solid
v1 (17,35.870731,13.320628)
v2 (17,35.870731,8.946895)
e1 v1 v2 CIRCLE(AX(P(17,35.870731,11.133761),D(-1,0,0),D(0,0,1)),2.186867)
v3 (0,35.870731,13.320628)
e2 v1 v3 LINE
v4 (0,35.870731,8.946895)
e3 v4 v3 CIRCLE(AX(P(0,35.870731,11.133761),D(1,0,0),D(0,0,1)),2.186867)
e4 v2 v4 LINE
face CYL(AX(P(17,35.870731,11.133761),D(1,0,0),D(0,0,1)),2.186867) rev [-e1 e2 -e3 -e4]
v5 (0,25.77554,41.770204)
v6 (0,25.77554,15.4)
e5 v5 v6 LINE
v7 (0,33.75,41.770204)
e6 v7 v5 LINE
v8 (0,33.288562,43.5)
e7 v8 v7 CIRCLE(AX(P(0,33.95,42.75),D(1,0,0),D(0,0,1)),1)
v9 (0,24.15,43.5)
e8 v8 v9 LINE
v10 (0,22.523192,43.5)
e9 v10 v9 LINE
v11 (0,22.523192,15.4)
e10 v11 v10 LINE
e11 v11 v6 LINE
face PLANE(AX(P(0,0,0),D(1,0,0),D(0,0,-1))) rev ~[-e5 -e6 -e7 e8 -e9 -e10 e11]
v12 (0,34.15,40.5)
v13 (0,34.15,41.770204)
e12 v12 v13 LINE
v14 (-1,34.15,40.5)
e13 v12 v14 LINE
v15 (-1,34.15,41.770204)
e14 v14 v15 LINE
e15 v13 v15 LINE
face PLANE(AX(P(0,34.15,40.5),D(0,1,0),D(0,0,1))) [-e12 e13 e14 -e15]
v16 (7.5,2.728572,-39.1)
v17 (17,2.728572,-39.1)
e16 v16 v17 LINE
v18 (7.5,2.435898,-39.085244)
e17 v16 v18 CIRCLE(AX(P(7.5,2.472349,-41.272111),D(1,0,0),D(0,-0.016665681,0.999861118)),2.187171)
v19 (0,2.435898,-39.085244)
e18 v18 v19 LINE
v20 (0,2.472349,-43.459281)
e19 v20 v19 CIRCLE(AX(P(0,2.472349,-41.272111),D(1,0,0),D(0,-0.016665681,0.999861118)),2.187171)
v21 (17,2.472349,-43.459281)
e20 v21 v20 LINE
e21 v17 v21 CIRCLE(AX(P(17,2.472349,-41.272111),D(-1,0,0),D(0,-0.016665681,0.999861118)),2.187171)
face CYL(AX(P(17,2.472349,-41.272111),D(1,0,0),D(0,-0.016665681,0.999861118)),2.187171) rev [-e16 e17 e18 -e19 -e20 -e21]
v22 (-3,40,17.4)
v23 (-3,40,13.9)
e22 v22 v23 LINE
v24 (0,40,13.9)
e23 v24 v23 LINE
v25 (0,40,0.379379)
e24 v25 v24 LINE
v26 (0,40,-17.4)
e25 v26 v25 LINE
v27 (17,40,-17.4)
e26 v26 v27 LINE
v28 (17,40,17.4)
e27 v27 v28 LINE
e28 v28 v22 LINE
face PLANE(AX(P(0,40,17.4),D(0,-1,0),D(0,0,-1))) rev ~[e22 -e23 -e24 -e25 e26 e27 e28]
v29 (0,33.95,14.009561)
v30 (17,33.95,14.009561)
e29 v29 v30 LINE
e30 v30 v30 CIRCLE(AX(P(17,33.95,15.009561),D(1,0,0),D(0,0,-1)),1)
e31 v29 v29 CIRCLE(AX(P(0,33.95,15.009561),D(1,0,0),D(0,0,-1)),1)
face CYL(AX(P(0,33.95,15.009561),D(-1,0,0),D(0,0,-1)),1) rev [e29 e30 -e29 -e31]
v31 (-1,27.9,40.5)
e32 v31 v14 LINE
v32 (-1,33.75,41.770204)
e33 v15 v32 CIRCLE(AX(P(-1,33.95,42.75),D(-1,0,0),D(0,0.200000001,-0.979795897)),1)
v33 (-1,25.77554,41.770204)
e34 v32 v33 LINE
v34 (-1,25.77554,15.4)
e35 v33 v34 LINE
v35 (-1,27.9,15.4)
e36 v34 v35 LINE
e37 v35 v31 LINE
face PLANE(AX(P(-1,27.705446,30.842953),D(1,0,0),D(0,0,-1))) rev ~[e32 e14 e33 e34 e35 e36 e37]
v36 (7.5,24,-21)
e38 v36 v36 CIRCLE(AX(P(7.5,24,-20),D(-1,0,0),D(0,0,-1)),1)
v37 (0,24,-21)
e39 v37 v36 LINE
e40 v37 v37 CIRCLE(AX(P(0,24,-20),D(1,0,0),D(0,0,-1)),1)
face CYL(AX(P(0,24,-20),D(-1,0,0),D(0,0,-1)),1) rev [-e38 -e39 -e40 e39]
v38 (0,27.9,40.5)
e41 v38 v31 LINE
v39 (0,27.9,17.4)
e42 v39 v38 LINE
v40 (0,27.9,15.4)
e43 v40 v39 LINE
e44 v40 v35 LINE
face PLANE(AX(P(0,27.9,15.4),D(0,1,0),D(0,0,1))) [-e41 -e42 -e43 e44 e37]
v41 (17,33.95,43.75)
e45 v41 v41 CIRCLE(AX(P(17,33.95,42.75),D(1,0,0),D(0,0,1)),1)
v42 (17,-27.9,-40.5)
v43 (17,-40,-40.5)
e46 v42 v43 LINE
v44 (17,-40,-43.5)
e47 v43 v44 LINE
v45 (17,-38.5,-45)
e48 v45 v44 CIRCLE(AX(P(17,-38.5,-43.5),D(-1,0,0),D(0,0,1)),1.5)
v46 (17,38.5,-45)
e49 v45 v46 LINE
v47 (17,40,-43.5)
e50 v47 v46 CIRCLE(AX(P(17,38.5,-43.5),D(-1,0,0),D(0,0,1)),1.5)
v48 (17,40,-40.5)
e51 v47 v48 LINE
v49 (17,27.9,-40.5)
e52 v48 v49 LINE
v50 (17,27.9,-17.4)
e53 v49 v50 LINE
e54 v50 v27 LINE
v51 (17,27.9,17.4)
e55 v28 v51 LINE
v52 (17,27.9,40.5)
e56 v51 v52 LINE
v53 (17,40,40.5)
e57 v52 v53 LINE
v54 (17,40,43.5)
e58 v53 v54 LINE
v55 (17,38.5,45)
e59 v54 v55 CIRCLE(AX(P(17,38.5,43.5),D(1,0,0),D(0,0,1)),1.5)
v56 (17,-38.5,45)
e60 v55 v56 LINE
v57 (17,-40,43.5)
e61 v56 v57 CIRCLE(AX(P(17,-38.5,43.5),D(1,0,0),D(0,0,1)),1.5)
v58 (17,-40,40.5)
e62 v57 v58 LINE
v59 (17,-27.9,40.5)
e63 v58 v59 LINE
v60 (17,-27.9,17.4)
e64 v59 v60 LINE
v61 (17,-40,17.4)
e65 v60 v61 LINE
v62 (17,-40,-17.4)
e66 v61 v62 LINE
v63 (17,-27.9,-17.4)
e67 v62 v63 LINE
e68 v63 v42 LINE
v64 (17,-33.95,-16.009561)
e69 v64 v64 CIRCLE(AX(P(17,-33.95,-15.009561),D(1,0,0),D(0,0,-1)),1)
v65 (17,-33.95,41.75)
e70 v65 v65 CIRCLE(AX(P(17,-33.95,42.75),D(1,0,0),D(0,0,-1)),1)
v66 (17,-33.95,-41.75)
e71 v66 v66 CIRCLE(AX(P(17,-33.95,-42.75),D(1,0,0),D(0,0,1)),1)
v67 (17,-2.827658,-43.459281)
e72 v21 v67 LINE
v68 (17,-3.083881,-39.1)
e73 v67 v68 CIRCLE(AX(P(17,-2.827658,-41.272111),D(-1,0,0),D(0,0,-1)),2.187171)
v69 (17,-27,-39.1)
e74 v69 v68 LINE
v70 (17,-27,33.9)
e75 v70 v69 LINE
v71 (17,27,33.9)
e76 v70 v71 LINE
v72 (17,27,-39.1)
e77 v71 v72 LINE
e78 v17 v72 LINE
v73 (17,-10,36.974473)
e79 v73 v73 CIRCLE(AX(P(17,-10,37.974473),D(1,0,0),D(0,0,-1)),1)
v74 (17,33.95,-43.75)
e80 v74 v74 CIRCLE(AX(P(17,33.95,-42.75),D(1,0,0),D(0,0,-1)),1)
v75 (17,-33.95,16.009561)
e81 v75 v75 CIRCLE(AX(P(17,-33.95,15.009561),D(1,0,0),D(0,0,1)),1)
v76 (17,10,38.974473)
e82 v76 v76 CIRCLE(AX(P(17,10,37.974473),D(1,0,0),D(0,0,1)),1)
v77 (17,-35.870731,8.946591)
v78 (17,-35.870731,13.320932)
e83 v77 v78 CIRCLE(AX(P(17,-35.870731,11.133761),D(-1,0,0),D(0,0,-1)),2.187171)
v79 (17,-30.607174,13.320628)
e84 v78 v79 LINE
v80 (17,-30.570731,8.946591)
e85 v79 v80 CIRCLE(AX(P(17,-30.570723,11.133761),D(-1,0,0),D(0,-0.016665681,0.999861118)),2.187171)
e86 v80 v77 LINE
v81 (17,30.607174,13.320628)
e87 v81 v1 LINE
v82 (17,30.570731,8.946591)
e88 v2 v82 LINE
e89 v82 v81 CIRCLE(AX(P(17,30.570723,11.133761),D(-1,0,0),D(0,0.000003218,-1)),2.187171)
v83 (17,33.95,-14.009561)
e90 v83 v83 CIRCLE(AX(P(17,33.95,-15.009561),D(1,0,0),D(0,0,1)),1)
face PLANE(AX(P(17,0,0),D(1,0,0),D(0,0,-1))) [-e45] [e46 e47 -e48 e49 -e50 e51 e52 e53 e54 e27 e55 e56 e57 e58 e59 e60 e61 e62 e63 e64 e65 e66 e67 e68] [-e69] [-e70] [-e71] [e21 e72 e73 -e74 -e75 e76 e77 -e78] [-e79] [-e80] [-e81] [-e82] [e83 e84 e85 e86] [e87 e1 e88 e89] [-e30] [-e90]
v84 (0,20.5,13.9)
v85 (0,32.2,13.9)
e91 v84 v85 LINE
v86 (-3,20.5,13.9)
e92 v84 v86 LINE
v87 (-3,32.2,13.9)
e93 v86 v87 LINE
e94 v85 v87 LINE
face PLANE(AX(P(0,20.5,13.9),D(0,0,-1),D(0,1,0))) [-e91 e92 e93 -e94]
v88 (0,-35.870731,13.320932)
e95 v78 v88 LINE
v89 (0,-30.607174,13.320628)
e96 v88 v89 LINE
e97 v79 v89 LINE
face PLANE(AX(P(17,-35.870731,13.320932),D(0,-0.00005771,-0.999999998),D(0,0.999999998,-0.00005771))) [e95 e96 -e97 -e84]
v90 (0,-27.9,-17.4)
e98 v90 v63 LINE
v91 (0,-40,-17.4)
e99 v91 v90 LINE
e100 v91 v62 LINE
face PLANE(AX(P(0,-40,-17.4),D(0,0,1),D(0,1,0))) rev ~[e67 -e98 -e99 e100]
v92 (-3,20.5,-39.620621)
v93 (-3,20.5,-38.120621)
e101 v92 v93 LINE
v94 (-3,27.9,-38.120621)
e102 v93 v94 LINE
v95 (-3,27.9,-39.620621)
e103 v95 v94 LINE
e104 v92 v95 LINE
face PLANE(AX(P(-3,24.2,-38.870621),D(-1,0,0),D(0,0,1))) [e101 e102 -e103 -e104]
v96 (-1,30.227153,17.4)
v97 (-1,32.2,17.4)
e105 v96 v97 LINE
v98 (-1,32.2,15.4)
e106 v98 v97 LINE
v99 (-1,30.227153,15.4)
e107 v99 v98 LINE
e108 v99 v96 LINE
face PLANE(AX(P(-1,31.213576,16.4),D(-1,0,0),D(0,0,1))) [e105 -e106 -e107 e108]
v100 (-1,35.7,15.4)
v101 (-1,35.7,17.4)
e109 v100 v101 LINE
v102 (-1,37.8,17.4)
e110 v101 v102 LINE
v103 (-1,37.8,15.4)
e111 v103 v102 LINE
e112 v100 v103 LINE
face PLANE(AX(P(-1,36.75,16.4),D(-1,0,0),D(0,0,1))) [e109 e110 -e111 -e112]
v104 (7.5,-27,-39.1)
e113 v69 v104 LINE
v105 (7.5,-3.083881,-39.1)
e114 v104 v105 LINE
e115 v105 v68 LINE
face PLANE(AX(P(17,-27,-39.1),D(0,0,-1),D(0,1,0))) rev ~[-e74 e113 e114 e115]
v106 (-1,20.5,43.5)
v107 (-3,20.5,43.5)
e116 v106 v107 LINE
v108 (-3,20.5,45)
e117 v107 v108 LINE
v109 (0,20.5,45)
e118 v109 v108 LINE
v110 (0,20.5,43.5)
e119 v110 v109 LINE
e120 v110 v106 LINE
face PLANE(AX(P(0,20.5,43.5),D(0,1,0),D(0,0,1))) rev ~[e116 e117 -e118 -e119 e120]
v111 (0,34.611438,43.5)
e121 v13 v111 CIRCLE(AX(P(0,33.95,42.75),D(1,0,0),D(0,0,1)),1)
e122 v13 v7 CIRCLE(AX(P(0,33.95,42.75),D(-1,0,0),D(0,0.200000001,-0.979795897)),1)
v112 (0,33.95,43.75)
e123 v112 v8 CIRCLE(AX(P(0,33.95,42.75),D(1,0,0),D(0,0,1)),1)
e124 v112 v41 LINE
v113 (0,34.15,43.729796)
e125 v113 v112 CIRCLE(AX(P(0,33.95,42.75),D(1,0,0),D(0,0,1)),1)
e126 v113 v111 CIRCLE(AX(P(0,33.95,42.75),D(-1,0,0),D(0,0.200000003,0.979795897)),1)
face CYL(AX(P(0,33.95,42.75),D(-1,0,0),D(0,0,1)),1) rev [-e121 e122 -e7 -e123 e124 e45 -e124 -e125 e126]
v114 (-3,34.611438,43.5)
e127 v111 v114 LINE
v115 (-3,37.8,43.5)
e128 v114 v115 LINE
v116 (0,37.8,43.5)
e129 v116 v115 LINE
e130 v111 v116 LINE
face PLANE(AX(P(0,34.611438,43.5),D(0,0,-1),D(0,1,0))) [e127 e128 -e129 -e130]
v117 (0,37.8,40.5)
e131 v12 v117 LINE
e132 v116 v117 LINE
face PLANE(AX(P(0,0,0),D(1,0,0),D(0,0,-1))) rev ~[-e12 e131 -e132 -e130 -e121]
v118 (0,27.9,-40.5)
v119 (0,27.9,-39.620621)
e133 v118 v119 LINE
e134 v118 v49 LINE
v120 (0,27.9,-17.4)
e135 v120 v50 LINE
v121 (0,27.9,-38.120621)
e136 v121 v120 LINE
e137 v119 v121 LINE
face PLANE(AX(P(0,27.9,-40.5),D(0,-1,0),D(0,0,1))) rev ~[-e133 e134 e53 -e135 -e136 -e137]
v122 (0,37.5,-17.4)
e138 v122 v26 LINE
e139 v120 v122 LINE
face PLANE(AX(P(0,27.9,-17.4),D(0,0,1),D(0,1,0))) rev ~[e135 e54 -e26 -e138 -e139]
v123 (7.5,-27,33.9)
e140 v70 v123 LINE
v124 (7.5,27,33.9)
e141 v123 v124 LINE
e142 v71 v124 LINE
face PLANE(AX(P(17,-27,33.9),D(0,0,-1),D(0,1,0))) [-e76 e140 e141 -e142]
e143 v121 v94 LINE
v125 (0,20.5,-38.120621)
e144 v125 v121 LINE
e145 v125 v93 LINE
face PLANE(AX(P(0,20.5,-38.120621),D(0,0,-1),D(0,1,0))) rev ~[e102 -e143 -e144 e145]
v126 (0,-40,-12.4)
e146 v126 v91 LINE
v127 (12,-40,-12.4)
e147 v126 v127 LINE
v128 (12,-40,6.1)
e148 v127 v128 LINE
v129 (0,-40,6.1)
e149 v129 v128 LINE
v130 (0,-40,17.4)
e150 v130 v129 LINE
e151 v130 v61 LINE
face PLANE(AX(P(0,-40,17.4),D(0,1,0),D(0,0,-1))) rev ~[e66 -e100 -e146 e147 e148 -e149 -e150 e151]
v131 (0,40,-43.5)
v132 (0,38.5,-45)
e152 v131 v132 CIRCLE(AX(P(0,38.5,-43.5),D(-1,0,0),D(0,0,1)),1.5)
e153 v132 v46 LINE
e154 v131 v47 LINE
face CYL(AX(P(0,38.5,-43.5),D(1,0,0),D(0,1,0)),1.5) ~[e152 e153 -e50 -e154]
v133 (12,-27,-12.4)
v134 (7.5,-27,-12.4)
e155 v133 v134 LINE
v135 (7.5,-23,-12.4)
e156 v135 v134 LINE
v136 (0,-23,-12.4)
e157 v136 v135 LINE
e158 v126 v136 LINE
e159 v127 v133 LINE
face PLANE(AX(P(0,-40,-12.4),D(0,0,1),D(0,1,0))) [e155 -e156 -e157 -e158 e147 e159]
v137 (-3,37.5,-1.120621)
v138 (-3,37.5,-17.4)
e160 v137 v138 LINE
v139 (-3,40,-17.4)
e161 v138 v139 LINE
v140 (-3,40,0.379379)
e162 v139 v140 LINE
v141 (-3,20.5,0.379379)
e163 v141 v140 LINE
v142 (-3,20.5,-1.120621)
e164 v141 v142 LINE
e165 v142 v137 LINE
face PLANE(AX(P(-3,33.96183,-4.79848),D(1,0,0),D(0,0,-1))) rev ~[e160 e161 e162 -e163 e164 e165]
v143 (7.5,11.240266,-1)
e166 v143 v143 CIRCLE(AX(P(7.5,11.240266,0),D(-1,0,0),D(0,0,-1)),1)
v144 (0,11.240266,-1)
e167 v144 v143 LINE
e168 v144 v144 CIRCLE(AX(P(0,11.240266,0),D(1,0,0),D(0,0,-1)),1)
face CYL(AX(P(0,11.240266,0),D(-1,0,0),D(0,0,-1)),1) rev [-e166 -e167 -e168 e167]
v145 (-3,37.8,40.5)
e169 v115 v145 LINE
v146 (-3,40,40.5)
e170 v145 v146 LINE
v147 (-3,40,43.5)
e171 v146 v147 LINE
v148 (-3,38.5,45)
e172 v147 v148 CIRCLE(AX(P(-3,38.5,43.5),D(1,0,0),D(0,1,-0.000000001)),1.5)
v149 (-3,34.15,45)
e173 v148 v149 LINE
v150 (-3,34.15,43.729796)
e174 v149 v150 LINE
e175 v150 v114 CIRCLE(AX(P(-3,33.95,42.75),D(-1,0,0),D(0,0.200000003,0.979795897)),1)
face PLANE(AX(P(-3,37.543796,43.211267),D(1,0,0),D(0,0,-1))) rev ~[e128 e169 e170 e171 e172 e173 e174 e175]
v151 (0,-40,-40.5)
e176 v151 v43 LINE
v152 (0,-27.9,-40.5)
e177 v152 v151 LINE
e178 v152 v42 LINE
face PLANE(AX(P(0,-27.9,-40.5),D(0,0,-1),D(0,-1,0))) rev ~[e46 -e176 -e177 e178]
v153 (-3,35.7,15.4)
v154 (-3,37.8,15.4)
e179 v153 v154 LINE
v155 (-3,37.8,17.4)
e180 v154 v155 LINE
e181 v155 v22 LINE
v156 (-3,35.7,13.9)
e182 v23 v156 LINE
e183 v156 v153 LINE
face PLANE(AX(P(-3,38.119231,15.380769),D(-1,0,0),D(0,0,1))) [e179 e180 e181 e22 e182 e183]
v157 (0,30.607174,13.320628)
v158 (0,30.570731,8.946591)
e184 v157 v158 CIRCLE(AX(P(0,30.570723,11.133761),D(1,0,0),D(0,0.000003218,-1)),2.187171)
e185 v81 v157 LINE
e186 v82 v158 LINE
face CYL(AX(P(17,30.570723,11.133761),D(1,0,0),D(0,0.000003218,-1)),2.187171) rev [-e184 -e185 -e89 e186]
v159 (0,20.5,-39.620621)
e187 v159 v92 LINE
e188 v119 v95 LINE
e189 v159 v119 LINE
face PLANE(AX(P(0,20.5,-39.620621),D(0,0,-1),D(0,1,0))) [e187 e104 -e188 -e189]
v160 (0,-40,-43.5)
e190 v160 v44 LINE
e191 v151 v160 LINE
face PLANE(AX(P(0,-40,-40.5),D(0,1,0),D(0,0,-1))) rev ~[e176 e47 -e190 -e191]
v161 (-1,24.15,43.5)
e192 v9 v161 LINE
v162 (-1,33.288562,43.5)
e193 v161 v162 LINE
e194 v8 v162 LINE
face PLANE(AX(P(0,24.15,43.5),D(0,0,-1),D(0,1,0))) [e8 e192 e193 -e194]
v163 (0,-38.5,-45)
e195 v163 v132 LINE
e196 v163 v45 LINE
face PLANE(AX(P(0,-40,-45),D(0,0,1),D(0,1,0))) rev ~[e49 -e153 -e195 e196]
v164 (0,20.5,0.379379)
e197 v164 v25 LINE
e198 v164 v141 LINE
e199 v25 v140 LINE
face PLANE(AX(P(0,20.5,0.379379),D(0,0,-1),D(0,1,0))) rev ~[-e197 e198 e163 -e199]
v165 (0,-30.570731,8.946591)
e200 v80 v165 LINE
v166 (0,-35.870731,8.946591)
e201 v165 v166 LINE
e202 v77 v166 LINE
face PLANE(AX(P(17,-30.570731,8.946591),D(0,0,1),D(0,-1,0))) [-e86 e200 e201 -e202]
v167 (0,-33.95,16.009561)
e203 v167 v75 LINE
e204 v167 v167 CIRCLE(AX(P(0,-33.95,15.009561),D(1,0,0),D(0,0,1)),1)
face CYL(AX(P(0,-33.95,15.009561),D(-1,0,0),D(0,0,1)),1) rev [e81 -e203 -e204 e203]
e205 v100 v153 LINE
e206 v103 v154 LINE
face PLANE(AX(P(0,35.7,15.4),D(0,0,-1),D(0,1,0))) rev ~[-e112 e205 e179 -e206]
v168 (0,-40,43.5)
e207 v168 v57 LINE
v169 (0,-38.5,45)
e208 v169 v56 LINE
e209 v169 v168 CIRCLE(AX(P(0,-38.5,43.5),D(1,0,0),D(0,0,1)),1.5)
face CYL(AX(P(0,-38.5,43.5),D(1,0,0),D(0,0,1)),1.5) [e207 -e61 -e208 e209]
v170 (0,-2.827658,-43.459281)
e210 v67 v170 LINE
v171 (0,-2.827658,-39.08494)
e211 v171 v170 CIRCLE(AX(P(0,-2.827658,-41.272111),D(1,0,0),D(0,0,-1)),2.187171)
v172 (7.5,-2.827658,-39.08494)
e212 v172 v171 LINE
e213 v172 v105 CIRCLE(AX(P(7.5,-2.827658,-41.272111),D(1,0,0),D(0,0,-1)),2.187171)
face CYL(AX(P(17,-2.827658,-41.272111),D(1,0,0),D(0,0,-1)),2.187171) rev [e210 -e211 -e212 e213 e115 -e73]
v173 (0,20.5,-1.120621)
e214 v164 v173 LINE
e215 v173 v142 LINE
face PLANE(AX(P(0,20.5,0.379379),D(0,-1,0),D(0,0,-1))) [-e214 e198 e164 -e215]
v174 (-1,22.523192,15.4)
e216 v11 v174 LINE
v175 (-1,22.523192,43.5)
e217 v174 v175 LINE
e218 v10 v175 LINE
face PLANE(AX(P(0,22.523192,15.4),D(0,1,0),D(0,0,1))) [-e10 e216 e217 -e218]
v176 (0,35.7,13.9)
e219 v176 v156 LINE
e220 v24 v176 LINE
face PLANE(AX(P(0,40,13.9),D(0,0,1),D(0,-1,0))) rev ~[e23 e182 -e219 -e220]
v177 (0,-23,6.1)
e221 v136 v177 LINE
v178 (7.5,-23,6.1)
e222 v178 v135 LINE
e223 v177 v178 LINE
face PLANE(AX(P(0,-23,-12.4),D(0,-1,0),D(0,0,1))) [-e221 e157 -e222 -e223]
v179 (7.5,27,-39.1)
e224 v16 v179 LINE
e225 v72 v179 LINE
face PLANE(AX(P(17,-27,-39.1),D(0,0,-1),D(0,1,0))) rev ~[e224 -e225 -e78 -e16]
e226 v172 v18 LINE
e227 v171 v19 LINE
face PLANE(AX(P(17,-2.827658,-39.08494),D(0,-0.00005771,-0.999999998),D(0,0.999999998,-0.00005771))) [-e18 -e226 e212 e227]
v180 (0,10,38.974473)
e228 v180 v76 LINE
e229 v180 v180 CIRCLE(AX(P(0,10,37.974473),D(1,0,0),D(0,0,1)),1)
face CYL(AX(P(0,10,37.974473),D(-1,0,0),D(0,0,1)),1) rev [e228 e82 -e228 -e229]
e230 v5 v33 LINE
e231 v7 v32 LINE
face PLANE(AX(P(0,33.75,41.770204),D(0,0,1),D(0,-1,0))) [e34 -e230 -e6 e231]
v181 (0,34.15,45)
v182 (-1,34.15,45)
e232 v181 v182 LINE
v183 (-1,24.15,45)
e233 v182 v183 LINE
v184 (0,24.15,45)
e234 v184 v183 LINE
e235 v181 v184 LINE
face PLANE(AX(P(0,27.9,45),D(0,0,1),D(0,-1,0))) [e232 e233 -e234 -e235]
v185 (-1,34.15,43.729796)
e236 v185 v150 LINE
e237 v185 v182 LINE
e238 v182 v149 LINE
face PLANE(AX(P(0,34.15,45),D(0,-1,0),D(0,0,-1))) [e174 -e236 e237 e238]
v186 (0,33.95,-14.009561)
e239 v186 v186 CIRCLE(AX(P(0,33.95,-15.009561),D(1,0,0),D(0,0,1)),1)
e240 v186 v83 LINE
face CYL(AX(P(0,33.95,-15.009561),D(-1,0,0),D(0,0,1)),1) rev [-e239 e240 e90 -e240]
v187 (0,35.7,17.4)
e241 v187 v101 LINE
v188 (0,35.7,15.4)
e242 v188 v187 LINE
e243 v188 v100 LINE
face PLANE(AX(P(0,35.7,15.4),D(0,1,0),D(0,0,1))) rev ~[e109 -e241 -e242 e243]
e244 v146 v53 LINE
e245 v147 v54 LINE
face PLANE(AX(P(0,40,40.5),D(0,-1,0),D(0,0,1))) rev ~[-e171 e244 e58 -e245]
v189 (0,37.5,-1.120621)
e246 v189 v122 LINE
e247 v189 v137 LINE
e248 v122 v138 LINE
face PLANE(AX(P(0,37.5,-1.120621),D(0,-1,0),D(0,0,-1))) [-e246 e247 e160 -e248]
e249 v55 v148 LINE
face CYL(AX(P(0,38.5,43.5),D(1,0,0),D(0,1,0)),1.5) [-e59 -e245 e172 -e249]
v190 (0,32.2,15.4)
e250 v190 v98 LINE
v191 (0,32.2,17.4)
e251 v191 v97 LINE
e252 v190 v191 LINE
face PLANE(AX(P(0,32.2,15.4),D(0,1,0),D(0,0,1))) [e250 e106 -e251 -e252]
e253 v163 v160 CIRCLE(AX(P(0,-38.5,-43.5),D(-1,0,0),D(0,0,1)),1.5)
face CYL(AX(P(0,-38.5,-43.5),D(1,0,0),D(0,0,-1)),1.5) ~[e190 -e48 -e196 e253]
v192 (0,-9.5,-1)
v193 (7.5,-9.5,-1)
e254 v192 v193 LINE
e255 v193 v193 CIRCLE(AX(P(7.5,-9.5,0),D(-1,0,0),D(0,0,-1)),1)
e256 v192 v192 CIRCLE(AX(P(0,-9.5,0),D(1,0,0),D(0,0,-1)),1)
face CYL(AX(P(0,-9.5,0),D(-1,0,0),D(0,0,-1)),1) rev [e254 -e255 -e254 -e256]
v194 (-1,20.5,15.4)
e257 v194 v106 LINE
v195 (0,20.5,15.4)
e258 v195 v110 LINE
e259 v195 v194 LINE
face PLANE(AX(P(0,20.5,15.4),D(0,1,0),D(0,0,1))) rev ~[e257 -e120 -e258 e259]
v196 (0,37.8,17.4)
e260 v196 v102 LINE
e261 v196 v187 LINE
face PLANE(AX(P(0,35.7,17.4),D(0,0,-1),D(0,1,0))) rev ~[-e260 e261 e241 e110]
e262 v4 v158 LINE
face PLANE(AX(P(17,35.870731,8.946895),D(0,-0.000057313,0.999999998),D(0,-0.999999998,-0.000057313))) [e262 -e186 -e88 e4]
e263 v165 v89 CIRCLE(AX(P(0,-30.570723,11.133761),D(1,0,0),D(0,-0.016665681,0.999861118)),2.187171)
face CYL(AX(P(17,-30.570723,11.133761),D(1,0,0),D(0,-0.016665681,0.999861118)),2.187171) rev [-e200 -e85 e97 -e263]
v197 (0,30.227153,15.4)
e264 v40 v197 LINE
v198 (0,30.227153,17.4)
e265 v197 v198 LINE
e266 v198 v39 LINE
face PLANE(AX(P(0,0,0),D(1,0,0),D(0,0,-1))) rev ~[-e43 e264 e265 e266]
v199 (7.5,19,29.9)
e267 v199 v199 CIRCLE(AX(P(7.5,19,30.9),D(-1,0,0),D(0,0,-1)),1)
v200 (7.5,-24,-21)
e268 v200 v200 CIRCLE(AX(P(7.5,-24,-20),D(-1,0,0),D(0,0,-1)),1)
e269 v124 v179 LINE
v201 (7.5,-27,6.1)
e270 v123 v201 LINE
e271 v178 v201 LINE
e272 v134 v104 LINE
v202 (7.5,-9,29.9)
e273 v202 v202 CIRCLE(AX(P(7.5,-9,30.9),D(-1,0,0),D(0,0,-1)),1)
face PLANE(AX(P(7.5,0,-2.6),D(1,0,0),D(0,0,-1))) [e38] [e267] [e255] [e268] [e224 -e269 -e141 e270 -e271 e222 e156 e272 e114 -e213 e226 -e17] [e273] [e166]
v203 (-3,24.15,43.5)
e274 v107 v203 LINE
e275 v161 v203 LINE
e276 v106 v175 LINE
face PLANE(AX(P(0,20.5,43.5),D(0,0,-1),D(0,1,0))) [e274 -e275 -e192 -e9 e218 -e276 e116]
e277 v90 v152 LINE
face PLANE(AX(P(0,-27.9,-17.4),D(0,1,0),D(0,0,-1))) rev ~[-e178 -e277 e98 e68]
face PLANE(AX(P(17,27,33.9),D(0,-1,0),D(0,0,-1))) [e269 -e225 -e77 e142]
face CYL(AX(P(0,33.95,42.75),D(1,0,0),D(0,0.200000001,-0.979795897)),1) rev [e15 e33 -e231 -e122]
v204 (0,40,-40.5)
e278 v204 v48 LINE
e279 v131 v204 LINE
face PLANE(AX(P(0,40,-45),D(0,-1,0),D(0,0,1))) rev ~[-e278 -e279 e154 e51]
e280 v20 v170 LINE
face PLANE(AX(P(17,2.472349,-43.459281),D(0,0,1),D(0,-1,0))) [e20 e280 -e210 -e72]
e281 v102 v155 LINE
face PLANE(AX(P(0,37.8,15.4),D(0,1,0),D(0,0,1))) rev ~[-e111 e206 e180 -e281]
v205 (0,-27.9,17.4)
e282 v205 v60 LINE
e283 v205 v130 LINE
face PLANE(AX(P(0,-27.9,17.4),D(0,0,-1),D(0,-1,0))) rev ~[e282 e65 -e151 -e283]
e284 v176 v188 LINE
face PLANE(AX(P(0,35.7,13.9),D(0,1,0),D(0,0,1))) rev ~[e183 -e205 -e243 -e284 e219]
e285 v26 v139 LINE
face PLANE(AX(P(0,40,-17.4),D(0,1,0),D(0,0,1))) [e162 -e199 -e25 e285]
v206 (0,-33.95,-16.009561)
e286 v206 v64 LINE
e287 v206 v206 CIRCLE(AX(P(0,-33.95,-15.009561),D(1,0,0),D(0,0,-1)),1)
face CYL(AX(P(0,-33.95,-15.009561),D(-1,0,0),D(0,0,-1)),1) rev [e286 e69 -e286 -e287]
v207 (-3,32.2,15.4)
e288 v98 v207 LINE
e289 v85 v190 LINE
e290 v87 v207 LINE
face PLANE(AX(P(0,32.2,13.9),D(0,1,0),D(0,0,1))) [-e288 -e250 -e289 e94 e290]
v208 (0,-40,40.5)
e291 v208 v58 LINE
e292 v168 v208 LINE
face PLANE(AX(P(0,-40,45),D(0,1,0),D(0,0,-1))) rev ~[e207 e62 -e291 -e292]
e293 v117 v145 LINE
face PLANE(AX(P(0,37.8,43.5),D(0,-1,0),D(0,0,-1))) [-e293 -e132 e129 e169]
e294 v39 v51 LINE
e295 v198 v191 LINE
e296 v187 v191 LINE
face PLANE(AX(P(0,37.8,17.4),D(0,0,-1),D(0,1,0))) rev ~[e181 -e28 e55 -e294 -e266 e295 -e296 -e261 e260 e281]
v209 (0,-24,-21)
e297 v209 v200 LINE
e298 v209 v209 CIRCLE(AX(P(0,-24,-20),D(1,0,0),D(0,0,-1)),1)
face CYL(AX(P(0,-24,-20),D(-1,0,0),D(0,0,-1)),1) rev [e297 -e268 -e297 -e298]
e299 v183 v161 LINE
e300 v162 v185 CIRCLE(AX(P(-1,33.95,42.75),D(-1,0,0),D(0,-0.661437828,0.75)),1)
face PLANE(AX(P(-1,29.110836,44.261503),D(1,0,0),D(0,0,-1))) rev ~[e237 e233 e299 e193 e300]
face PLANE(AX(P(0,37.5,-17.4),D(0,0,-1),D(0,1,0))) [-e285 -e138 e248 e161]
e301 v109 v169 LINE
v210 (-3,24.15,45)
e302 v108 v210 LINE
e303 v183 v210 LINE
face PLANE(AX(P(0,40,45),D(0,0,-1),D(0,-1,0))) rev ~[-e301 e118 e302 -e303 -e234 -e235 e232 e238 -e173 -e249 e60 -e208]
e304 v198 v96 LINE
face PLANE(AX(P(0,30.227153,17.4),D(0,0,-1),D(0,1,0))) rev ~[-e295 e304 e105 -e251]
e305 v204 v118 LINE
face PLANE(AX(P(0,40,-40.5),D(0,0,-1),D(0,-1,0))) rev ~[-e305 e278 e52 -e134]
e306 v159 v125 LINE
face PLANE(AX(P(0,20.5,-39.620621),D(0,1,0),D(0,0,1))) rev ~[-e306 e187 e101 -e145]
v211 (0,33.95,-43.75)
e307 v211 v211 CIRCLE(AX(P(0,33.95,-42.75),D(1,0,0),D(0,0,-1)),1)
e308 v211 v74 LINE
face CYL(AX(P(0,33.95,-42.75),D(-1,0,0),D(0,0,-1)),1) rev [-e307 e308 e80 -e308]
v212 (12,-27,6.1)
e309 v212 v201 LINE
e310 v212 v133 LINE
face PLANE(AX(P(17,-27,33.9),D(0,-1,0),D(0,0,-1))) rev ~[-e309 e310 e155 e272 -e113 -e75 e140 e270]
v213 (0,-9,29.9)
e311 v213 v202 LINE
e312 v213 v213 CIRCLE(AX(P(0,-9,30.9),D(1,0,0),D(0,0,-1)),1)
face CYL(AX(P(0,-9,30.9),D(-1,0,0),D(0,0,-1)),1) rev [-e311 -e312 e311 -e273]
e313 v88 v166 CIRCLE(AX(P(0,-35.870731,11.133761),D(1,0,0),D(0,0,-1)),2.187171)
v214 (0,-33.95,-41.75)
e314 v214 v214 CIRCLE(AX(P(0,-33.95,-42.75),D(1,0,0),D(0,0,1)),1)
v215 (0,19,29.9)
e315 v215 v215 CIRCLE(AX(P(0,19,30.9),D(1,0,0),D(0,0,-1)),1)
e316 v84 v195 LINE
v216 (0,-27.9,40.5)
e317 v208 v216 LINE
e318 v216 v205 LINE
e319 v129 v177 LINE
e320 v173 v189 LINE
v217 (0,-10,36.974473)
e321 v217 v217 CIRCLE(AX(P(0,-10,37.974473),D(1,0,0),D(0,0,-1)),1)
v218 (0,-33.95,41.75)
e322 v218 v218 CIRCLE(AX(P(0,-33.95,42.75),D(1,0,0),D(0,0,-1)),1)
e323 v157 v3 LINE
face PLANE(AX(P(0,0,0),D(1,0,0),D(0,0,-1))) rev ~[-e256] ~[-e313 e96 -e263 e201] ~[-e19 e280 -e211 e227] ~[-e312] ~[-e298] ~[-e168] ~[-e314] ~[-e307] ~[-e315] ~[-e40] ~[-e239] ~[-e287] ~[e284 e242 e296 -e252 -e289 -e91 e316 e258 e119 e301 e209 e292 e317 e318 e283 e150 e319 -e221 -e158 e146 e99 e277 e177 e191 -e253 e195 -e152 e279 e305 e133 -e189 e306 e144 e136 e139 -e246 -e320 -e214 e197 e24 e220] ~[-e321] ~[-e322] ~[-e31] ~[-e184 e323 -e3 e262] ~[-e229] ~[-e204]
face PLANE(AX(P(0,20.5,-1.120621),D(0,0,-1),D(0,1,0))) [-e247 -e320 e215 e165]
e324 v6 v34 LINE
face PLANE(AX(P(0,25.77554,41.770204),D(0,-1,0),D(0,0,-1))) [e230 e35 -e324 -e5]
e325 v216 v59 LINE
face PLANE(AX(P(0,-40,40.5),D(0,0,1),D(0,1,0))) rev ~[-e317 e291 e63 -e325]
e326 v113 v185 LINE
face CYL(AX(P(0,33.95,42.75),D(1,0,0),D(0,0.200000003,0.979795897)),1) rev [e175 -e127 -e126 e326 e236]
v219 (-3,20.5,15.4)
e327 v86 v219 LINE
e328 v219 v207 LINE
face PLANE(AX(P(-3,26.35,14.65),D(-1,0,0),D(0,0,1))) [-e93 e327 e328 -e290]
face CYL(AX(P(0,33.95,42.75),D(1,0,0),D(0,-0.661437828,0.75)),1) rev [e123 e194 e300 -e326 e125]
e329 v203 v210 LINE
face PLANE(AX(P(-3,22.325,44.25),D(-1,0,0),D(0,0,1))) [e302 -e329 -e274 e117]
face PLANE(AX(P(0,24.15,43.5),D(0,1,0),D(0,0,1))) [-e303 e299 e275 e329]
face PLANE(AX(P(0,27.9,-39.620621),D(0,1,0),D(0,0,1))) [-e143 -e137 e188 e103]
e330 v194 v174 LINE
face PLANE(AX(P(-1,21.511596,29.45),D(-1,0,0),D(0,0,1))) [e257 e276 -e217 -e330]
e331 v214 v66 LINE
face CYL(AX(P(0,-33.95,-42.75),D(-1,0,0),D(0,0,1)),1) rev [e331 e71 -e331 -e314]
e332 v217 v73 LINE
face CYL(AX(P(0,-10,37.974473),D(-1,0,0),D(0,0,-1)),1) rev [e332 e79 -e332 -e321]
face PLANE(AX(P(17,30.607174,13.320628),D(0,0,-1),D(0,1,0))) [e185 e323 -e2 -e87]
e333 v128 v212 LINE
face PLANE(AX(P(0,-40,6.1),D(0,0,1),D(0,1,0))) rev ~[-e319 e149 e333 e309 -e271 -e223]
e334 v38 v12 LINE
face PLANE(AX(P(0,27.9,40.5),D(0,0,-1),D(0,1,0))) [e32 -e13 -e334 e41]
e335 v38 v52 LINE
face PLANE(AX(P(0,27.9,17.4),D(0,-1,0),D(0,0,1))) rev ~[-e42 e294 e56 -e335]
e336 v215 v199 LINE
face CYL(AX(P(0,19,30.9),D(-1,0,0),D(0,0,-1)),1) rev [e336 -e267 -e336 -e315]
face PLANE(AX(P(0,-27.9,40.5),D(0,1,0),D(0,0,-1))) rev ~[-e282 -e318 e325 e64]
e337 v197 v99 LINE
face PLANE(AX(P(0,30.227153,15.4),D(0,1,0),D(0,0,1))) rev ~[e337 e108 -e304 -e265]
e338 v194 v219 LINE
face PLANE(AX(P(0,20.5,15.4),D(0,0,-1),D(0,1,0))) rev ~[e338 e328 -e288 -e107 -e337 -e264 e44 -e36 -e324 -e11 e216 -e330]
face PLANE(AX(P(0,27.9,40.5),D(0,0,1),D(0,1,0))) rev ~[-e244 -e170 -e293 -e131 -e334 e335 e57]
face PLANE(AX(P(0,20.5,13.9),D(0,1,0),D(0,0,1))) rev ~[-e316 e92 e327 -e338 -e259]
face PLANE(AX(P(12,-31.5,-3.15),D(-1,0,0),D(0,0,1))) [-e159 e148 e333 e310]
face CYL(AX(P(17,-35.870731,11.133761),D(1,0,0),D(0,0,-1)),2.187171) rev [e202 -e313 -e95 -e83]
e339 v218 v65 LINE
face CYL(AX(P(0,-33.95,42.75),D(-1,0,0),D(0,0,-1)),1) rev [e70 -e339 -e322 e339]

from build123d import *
from build123d.topology import SkipClean

# Parameters (mm, degrees)
SKETCH_1_R          = 1
EXTRUDE_1_DEPTH     = 17
FILLET_1_R          = 1.5
SKETCH_2_W          = 73
SKETCH_2_H          = 54
CUT_EXTRUDE_1_DEPTH = 9.5
CUT_EXTRUDE_2_DEPTH = 63.561969278
SKETCH_5_W          = 1.5
SKETCH_5_H          = 11.7
SKETCH_5_H_2        = 3.65
EXTRUDE_4_DEPTH     = 3
SKETCH_6_W          = 2
SKETCH_6_H          = 2.1
SKETCH_6_W_2        = 28.1
SKETCH_6_H_2        = 2.023191522
SKETCH_6_H_3        = 1.972847365
EXTRUDE_5_DEPTH     = 1
SKETCH_9_W          = 1.5
SKETCH_9_H          = 7.4
EXTRUDE_6_DEPTH     = 3
SKETCH_10_W         = 18.5
SKETCH_10_H         = 17
CUT_EXTRUDE_3_DEPTH = 12


with BuildPart() as part:
    # Эскиз1 → Бобышка-Вытянуть1 (new body)
    with BuildSketch(Plane(origin=(0, 0, 0), x_dir=(0, 0, -1), z_dir=(1, 0, 0))):
        Polygon((0, 40), (-17.4, 40), (-17.4, 27.9), (-40.5, 27.9), (-40.5, 40), (-45, 40), (-45, -40), (-40.5, -40), (-40.5, -27.9), (-17.4, -27.9), (-17.4, -40), (17.4, -40), (17.4, -27.9), (40.5, -27.9), (40.5, -40), (45, -40), (45, 40), (40.5, 40), (40.5, 27.9), (17.4, 27.9), (17.4, 40), align=None)
        with Locations((-42.75, -33.95)):
            Circle(SKETCH_1_R, mode=Mode.SUBTRACT)
        with Locations(Location((-15.009561353, -33.95, 0), (0, 0, 180))):
            Circle(SKETCH_1_R, mode=Mode.SUBTRACT)
        with Locations((15.009561353, -33.95)):
            Circle(SKETCH_1_R, mode=Mode.SUBTRACT)
        with Locations(Location((42.75, -33.95, 0), (0, 0, 180))):
            Circle(SKETCH_1_R, mode=Mode.SUBTRACT)
        with Locations((42.75, 33.95)):
            Circle(SKETCH_1_R, mode=Mode.SUBTRACT)
        with Locations(Location((15.009561353, 33.95, 0), (0, 0, 180))):
            Circle(SKETCH_1_R, mode=Mode.SUBTRACT)
        with Locations((-15.009561353, 33.95)):
            Circle(SKETCH_1_R, mode=Mode.SUBTRACT)
        with Locations(Location((-42.75, 33.95, 0), (0, 0, 180))):
            Circle(SKETCH_1_R, mode=Mode.SUBTRACT)
        with Locations((20, 24)):
            Circle(SKETCH_1_R, mode=Mode.SUBTRACT)
        with Locations((20, -24)):
            Circle(SKETCH_1_R, mode=Mode.SUBTRACT)
        with Locations((-30.9, -9)):
            Circle(SKETCH_1_R, mode=Mode.SUBTRACT)
        with Locations((-30.9, 19)):
            Circle(SKETCH_1_R, mode=Mode.SUBTRACT)
        with Locations((-37.974473267, -10)):
            Circle(SKETCH_1_R, mode=Mode.SUBTRACT)
        with Locations(Location((-37.974473267, 10, 0), (0, 0, 180))):
            Circle(SKETCH_1_R, mode=Mode.SUBTRACT)
        with Locations((0, 11.240266093)):
            Circle(SKETCH_1_R, mode=Mode.SUBTRACT)
        with Locations((0, -9.5)):
            Circle(SKETCH_1_R, mode=Mode.SUBTRACT)
    extrude(amount=EXTRUDE_1_DEPTH)

    # Скругление1
    fillet_1_edges = [part.edges().sort_by_distance(p)[0] for p in [
        (8.5, 40, -45),
        (8.5, -40, -45),
        (8.5, -40, 45),
        (8.5, 40, 45),
    ]]
    fillet(fillet_1_edges, radius=FILLET_1_R)

    # Эскиз2 → Вырез-Вытянуть1 (cut)
    with BuildSketch(Plane(origin=(17, 0, 0), x_dir=(0, 0, -1), z_dir=(1, 0, 0))):
        with Locations((2.6, 0)):
            Rectangle(SKETCH_2_W, SKETCH_2_H)
    extrude(amount=-CUT_EXTRUDE_1_DEPTH, mode=Mode.SUBTRACT)

    # Эскиз4 → Вырез-Вытянуть2 (cut, through all)
    with BuildSketch(Plane(origin=(17, 0, 0), x_dir=(0, 0, -1), z_dir=(1, 0, 0))):
        with BuildLine():
            Line((-8.946590779, -30.570730506), (-8.946590779, -35.870730626))
            ThreePointArc((-8.946590779, -35.870730626), (-11.133761444, -38.057901291), (-13.320932109, -35.870730626))
            Line((-13.320932109, -35.870730626), (-13.320628351, -30.607174155))
            ThreePointArc((-13.320628351, -30.607174155), (-11.151983902, -28.383628713), (-8.946590779, -30.570730506))
        make_face()
        with BuildLine():
            Line((43.459281483, 2.472349123), (43.459281483, -2.827658037))
            ThreePointArc((43.459281483, -2.827658037), (41.272110818, -5.014828702), (39.084940152, -2.827658037))
            Line((39.084940152, -2.827658037), (39.085243911, 2.435898433))
            ThreePointArc((39.085243911, 2.435898433), (41.25388484, 4.659443847), (43.459281483, 2.472349123))
        make_face()
        with BuildLine():
            Line((-13.320628351, 30.607174155), (-13.320628351, 35.870730626))
            ThreePointArc((-13.320628351, 35.870730626), (-11.133761444, 38.057597532), (-8.946894538, 35.870730626))
            Line((-8.946894538, 35.870730626), (-8.946590779, 30.570730506))
            ThreePointArc((-8.946590779, 30.570730506), (-11.151983902, 28.383628713), (-13.320628351, 30.607174155))
        make_face()
    extrude(amount=-CUT_EXTRUDE_2_DEPTH, mode=Mode.SUBTRACT)

    # Эскиз5 → Бобышка-Вытянуть4 (add)
    with BuildSketch(Plane.ZY):
        Polygon((15.4, 37.8), (17.4, 37.8), (17.4, 40), (13.9, 40), (13.9, 39.3), (13.9, 35.7), (15.4, 35.7), align=None)
        with BuildLine():
            Line((45, 34.15), (43.729795897, 34.15))
            ThreePointArc((43.729795897, 34.15), (43.645142267, 34.395780575), (43.5, 34.611437828))
            Line((43.5, 34.611437828), (43.5, 37.8))
            Line((43.5, 37.8), (40.5, 37.8))
            Line((40.5, 37.8), (40.5, 39.3))
            Line((40.5, 39.3), (40.5, 40))
            Line((40.5, 40), (43.5, 40))
            ThreePointArc((43.5, 40), (44.560660172, 39.560660172), (45, 38.5))
            Line((45, 38.5), (45, 34.15))
        make_face()
        with Locations((14.65, 26.35)):
            Rectangle(SKETCH_5_W, SKETCH_5_H)
        with Locations((44.25, 22.325)):
            Rectangle(SKETCH_5_W, SKETCH_5_H_2)
    extrude(amount=EXTRUDE_4_DEPTH)

    # Эскиз6 → Бобышка-Вытянуть5 (add)
    with SkipClean():  # the faces are left unmerged after this step: merging them gives an invalid solid
        with BuildSketch(Plane.ZY):
            with Locations((16.4, 36.75)):
                Rectangle(SKETCH_6_W, SKETCH_6_H)
            with Locations((29.45, 21.511595761)):
                Rectangle(SKETCH_6_W_2, SKETCH_6_H_2)
            with BuildLine():
                Line((45, 27.9), (45, 24.15))
                Line((45, 24.15), (43.5, 24.15))
                Line((43.5, 24.15), (43.5, 25.77554016))
                Line((43.5, 25.77554016), (43.5, 33.288562172))
                ThreePointArc((43.5, 33.288562172), (43.716212836, 33.692254475), (43.729795897, 34.15))
                Line((43.729795897, 34.15), (45, 34.15))
                Line((45, 34.15), (45, 27.9))
            make_face()
            with BuildLine():
                Line((15.4, 25.77554016), (15.4, 27.9))
                Line((15.4, 27.9), (40.5, 27.9))
                Line((40.5, 27.9), (40.5, 34.15))
                Line((40.5, 34.15), (41.770204103, 34.15))
                ThreePointArc((41.770204103, 34.15), (41.75, 33.95), (41.770204103, 33.75))
                Line((41.770204103, 33.75), (41.770204103, 25.77554016))
                Line((41.770204103, 25.77554016), (15.4, 25.77554016))
            make_face()
            with Locations((16.4, 31.213576318)):
                Rectangle(SKETCH_6_W, SKETCH_6_H_3)
        extrude(amount=EXTRUDE_5_DEPTH)

    # Эскиз9 → Бобышка-Вытянуть6 (add)
    with SkipClean():  # the faces are left unmerged after this step: merging them gives an invalid solid
        with BuildSketch(Plane.ZY):
            Polygon((0.379379219, 37.5), (0.379379219, 20.5), (-1.120620781, 20.5), (-1.120620781, 37.5), (-17.4, 37.5), (-17.4, 40), (0.379379219, 40), align=None)
            with Locations((-38.870620781, 24.2)):
                Rectangle(SKETCH_9_W, SKETCH_9_H)
        extrude(amount=EXTRUDE_6_DEPTH)

    # Эскиз10 → Вырез-Вытянуть3 (cut)
    with SkipClean():  # the faces are left unmerged after this step: merging them gives an invalid solid
        with BuildSketch(Plane.ZY):
            with Locations((-3.15, -31.5)):
                Rectangle(SKETCH_10_W, SKETCH_10_H)
        extrude(amount=-CUT_EXTRUDE_3_DEPTH, mode=Mode.SUBTRACT)


solid = part.part
